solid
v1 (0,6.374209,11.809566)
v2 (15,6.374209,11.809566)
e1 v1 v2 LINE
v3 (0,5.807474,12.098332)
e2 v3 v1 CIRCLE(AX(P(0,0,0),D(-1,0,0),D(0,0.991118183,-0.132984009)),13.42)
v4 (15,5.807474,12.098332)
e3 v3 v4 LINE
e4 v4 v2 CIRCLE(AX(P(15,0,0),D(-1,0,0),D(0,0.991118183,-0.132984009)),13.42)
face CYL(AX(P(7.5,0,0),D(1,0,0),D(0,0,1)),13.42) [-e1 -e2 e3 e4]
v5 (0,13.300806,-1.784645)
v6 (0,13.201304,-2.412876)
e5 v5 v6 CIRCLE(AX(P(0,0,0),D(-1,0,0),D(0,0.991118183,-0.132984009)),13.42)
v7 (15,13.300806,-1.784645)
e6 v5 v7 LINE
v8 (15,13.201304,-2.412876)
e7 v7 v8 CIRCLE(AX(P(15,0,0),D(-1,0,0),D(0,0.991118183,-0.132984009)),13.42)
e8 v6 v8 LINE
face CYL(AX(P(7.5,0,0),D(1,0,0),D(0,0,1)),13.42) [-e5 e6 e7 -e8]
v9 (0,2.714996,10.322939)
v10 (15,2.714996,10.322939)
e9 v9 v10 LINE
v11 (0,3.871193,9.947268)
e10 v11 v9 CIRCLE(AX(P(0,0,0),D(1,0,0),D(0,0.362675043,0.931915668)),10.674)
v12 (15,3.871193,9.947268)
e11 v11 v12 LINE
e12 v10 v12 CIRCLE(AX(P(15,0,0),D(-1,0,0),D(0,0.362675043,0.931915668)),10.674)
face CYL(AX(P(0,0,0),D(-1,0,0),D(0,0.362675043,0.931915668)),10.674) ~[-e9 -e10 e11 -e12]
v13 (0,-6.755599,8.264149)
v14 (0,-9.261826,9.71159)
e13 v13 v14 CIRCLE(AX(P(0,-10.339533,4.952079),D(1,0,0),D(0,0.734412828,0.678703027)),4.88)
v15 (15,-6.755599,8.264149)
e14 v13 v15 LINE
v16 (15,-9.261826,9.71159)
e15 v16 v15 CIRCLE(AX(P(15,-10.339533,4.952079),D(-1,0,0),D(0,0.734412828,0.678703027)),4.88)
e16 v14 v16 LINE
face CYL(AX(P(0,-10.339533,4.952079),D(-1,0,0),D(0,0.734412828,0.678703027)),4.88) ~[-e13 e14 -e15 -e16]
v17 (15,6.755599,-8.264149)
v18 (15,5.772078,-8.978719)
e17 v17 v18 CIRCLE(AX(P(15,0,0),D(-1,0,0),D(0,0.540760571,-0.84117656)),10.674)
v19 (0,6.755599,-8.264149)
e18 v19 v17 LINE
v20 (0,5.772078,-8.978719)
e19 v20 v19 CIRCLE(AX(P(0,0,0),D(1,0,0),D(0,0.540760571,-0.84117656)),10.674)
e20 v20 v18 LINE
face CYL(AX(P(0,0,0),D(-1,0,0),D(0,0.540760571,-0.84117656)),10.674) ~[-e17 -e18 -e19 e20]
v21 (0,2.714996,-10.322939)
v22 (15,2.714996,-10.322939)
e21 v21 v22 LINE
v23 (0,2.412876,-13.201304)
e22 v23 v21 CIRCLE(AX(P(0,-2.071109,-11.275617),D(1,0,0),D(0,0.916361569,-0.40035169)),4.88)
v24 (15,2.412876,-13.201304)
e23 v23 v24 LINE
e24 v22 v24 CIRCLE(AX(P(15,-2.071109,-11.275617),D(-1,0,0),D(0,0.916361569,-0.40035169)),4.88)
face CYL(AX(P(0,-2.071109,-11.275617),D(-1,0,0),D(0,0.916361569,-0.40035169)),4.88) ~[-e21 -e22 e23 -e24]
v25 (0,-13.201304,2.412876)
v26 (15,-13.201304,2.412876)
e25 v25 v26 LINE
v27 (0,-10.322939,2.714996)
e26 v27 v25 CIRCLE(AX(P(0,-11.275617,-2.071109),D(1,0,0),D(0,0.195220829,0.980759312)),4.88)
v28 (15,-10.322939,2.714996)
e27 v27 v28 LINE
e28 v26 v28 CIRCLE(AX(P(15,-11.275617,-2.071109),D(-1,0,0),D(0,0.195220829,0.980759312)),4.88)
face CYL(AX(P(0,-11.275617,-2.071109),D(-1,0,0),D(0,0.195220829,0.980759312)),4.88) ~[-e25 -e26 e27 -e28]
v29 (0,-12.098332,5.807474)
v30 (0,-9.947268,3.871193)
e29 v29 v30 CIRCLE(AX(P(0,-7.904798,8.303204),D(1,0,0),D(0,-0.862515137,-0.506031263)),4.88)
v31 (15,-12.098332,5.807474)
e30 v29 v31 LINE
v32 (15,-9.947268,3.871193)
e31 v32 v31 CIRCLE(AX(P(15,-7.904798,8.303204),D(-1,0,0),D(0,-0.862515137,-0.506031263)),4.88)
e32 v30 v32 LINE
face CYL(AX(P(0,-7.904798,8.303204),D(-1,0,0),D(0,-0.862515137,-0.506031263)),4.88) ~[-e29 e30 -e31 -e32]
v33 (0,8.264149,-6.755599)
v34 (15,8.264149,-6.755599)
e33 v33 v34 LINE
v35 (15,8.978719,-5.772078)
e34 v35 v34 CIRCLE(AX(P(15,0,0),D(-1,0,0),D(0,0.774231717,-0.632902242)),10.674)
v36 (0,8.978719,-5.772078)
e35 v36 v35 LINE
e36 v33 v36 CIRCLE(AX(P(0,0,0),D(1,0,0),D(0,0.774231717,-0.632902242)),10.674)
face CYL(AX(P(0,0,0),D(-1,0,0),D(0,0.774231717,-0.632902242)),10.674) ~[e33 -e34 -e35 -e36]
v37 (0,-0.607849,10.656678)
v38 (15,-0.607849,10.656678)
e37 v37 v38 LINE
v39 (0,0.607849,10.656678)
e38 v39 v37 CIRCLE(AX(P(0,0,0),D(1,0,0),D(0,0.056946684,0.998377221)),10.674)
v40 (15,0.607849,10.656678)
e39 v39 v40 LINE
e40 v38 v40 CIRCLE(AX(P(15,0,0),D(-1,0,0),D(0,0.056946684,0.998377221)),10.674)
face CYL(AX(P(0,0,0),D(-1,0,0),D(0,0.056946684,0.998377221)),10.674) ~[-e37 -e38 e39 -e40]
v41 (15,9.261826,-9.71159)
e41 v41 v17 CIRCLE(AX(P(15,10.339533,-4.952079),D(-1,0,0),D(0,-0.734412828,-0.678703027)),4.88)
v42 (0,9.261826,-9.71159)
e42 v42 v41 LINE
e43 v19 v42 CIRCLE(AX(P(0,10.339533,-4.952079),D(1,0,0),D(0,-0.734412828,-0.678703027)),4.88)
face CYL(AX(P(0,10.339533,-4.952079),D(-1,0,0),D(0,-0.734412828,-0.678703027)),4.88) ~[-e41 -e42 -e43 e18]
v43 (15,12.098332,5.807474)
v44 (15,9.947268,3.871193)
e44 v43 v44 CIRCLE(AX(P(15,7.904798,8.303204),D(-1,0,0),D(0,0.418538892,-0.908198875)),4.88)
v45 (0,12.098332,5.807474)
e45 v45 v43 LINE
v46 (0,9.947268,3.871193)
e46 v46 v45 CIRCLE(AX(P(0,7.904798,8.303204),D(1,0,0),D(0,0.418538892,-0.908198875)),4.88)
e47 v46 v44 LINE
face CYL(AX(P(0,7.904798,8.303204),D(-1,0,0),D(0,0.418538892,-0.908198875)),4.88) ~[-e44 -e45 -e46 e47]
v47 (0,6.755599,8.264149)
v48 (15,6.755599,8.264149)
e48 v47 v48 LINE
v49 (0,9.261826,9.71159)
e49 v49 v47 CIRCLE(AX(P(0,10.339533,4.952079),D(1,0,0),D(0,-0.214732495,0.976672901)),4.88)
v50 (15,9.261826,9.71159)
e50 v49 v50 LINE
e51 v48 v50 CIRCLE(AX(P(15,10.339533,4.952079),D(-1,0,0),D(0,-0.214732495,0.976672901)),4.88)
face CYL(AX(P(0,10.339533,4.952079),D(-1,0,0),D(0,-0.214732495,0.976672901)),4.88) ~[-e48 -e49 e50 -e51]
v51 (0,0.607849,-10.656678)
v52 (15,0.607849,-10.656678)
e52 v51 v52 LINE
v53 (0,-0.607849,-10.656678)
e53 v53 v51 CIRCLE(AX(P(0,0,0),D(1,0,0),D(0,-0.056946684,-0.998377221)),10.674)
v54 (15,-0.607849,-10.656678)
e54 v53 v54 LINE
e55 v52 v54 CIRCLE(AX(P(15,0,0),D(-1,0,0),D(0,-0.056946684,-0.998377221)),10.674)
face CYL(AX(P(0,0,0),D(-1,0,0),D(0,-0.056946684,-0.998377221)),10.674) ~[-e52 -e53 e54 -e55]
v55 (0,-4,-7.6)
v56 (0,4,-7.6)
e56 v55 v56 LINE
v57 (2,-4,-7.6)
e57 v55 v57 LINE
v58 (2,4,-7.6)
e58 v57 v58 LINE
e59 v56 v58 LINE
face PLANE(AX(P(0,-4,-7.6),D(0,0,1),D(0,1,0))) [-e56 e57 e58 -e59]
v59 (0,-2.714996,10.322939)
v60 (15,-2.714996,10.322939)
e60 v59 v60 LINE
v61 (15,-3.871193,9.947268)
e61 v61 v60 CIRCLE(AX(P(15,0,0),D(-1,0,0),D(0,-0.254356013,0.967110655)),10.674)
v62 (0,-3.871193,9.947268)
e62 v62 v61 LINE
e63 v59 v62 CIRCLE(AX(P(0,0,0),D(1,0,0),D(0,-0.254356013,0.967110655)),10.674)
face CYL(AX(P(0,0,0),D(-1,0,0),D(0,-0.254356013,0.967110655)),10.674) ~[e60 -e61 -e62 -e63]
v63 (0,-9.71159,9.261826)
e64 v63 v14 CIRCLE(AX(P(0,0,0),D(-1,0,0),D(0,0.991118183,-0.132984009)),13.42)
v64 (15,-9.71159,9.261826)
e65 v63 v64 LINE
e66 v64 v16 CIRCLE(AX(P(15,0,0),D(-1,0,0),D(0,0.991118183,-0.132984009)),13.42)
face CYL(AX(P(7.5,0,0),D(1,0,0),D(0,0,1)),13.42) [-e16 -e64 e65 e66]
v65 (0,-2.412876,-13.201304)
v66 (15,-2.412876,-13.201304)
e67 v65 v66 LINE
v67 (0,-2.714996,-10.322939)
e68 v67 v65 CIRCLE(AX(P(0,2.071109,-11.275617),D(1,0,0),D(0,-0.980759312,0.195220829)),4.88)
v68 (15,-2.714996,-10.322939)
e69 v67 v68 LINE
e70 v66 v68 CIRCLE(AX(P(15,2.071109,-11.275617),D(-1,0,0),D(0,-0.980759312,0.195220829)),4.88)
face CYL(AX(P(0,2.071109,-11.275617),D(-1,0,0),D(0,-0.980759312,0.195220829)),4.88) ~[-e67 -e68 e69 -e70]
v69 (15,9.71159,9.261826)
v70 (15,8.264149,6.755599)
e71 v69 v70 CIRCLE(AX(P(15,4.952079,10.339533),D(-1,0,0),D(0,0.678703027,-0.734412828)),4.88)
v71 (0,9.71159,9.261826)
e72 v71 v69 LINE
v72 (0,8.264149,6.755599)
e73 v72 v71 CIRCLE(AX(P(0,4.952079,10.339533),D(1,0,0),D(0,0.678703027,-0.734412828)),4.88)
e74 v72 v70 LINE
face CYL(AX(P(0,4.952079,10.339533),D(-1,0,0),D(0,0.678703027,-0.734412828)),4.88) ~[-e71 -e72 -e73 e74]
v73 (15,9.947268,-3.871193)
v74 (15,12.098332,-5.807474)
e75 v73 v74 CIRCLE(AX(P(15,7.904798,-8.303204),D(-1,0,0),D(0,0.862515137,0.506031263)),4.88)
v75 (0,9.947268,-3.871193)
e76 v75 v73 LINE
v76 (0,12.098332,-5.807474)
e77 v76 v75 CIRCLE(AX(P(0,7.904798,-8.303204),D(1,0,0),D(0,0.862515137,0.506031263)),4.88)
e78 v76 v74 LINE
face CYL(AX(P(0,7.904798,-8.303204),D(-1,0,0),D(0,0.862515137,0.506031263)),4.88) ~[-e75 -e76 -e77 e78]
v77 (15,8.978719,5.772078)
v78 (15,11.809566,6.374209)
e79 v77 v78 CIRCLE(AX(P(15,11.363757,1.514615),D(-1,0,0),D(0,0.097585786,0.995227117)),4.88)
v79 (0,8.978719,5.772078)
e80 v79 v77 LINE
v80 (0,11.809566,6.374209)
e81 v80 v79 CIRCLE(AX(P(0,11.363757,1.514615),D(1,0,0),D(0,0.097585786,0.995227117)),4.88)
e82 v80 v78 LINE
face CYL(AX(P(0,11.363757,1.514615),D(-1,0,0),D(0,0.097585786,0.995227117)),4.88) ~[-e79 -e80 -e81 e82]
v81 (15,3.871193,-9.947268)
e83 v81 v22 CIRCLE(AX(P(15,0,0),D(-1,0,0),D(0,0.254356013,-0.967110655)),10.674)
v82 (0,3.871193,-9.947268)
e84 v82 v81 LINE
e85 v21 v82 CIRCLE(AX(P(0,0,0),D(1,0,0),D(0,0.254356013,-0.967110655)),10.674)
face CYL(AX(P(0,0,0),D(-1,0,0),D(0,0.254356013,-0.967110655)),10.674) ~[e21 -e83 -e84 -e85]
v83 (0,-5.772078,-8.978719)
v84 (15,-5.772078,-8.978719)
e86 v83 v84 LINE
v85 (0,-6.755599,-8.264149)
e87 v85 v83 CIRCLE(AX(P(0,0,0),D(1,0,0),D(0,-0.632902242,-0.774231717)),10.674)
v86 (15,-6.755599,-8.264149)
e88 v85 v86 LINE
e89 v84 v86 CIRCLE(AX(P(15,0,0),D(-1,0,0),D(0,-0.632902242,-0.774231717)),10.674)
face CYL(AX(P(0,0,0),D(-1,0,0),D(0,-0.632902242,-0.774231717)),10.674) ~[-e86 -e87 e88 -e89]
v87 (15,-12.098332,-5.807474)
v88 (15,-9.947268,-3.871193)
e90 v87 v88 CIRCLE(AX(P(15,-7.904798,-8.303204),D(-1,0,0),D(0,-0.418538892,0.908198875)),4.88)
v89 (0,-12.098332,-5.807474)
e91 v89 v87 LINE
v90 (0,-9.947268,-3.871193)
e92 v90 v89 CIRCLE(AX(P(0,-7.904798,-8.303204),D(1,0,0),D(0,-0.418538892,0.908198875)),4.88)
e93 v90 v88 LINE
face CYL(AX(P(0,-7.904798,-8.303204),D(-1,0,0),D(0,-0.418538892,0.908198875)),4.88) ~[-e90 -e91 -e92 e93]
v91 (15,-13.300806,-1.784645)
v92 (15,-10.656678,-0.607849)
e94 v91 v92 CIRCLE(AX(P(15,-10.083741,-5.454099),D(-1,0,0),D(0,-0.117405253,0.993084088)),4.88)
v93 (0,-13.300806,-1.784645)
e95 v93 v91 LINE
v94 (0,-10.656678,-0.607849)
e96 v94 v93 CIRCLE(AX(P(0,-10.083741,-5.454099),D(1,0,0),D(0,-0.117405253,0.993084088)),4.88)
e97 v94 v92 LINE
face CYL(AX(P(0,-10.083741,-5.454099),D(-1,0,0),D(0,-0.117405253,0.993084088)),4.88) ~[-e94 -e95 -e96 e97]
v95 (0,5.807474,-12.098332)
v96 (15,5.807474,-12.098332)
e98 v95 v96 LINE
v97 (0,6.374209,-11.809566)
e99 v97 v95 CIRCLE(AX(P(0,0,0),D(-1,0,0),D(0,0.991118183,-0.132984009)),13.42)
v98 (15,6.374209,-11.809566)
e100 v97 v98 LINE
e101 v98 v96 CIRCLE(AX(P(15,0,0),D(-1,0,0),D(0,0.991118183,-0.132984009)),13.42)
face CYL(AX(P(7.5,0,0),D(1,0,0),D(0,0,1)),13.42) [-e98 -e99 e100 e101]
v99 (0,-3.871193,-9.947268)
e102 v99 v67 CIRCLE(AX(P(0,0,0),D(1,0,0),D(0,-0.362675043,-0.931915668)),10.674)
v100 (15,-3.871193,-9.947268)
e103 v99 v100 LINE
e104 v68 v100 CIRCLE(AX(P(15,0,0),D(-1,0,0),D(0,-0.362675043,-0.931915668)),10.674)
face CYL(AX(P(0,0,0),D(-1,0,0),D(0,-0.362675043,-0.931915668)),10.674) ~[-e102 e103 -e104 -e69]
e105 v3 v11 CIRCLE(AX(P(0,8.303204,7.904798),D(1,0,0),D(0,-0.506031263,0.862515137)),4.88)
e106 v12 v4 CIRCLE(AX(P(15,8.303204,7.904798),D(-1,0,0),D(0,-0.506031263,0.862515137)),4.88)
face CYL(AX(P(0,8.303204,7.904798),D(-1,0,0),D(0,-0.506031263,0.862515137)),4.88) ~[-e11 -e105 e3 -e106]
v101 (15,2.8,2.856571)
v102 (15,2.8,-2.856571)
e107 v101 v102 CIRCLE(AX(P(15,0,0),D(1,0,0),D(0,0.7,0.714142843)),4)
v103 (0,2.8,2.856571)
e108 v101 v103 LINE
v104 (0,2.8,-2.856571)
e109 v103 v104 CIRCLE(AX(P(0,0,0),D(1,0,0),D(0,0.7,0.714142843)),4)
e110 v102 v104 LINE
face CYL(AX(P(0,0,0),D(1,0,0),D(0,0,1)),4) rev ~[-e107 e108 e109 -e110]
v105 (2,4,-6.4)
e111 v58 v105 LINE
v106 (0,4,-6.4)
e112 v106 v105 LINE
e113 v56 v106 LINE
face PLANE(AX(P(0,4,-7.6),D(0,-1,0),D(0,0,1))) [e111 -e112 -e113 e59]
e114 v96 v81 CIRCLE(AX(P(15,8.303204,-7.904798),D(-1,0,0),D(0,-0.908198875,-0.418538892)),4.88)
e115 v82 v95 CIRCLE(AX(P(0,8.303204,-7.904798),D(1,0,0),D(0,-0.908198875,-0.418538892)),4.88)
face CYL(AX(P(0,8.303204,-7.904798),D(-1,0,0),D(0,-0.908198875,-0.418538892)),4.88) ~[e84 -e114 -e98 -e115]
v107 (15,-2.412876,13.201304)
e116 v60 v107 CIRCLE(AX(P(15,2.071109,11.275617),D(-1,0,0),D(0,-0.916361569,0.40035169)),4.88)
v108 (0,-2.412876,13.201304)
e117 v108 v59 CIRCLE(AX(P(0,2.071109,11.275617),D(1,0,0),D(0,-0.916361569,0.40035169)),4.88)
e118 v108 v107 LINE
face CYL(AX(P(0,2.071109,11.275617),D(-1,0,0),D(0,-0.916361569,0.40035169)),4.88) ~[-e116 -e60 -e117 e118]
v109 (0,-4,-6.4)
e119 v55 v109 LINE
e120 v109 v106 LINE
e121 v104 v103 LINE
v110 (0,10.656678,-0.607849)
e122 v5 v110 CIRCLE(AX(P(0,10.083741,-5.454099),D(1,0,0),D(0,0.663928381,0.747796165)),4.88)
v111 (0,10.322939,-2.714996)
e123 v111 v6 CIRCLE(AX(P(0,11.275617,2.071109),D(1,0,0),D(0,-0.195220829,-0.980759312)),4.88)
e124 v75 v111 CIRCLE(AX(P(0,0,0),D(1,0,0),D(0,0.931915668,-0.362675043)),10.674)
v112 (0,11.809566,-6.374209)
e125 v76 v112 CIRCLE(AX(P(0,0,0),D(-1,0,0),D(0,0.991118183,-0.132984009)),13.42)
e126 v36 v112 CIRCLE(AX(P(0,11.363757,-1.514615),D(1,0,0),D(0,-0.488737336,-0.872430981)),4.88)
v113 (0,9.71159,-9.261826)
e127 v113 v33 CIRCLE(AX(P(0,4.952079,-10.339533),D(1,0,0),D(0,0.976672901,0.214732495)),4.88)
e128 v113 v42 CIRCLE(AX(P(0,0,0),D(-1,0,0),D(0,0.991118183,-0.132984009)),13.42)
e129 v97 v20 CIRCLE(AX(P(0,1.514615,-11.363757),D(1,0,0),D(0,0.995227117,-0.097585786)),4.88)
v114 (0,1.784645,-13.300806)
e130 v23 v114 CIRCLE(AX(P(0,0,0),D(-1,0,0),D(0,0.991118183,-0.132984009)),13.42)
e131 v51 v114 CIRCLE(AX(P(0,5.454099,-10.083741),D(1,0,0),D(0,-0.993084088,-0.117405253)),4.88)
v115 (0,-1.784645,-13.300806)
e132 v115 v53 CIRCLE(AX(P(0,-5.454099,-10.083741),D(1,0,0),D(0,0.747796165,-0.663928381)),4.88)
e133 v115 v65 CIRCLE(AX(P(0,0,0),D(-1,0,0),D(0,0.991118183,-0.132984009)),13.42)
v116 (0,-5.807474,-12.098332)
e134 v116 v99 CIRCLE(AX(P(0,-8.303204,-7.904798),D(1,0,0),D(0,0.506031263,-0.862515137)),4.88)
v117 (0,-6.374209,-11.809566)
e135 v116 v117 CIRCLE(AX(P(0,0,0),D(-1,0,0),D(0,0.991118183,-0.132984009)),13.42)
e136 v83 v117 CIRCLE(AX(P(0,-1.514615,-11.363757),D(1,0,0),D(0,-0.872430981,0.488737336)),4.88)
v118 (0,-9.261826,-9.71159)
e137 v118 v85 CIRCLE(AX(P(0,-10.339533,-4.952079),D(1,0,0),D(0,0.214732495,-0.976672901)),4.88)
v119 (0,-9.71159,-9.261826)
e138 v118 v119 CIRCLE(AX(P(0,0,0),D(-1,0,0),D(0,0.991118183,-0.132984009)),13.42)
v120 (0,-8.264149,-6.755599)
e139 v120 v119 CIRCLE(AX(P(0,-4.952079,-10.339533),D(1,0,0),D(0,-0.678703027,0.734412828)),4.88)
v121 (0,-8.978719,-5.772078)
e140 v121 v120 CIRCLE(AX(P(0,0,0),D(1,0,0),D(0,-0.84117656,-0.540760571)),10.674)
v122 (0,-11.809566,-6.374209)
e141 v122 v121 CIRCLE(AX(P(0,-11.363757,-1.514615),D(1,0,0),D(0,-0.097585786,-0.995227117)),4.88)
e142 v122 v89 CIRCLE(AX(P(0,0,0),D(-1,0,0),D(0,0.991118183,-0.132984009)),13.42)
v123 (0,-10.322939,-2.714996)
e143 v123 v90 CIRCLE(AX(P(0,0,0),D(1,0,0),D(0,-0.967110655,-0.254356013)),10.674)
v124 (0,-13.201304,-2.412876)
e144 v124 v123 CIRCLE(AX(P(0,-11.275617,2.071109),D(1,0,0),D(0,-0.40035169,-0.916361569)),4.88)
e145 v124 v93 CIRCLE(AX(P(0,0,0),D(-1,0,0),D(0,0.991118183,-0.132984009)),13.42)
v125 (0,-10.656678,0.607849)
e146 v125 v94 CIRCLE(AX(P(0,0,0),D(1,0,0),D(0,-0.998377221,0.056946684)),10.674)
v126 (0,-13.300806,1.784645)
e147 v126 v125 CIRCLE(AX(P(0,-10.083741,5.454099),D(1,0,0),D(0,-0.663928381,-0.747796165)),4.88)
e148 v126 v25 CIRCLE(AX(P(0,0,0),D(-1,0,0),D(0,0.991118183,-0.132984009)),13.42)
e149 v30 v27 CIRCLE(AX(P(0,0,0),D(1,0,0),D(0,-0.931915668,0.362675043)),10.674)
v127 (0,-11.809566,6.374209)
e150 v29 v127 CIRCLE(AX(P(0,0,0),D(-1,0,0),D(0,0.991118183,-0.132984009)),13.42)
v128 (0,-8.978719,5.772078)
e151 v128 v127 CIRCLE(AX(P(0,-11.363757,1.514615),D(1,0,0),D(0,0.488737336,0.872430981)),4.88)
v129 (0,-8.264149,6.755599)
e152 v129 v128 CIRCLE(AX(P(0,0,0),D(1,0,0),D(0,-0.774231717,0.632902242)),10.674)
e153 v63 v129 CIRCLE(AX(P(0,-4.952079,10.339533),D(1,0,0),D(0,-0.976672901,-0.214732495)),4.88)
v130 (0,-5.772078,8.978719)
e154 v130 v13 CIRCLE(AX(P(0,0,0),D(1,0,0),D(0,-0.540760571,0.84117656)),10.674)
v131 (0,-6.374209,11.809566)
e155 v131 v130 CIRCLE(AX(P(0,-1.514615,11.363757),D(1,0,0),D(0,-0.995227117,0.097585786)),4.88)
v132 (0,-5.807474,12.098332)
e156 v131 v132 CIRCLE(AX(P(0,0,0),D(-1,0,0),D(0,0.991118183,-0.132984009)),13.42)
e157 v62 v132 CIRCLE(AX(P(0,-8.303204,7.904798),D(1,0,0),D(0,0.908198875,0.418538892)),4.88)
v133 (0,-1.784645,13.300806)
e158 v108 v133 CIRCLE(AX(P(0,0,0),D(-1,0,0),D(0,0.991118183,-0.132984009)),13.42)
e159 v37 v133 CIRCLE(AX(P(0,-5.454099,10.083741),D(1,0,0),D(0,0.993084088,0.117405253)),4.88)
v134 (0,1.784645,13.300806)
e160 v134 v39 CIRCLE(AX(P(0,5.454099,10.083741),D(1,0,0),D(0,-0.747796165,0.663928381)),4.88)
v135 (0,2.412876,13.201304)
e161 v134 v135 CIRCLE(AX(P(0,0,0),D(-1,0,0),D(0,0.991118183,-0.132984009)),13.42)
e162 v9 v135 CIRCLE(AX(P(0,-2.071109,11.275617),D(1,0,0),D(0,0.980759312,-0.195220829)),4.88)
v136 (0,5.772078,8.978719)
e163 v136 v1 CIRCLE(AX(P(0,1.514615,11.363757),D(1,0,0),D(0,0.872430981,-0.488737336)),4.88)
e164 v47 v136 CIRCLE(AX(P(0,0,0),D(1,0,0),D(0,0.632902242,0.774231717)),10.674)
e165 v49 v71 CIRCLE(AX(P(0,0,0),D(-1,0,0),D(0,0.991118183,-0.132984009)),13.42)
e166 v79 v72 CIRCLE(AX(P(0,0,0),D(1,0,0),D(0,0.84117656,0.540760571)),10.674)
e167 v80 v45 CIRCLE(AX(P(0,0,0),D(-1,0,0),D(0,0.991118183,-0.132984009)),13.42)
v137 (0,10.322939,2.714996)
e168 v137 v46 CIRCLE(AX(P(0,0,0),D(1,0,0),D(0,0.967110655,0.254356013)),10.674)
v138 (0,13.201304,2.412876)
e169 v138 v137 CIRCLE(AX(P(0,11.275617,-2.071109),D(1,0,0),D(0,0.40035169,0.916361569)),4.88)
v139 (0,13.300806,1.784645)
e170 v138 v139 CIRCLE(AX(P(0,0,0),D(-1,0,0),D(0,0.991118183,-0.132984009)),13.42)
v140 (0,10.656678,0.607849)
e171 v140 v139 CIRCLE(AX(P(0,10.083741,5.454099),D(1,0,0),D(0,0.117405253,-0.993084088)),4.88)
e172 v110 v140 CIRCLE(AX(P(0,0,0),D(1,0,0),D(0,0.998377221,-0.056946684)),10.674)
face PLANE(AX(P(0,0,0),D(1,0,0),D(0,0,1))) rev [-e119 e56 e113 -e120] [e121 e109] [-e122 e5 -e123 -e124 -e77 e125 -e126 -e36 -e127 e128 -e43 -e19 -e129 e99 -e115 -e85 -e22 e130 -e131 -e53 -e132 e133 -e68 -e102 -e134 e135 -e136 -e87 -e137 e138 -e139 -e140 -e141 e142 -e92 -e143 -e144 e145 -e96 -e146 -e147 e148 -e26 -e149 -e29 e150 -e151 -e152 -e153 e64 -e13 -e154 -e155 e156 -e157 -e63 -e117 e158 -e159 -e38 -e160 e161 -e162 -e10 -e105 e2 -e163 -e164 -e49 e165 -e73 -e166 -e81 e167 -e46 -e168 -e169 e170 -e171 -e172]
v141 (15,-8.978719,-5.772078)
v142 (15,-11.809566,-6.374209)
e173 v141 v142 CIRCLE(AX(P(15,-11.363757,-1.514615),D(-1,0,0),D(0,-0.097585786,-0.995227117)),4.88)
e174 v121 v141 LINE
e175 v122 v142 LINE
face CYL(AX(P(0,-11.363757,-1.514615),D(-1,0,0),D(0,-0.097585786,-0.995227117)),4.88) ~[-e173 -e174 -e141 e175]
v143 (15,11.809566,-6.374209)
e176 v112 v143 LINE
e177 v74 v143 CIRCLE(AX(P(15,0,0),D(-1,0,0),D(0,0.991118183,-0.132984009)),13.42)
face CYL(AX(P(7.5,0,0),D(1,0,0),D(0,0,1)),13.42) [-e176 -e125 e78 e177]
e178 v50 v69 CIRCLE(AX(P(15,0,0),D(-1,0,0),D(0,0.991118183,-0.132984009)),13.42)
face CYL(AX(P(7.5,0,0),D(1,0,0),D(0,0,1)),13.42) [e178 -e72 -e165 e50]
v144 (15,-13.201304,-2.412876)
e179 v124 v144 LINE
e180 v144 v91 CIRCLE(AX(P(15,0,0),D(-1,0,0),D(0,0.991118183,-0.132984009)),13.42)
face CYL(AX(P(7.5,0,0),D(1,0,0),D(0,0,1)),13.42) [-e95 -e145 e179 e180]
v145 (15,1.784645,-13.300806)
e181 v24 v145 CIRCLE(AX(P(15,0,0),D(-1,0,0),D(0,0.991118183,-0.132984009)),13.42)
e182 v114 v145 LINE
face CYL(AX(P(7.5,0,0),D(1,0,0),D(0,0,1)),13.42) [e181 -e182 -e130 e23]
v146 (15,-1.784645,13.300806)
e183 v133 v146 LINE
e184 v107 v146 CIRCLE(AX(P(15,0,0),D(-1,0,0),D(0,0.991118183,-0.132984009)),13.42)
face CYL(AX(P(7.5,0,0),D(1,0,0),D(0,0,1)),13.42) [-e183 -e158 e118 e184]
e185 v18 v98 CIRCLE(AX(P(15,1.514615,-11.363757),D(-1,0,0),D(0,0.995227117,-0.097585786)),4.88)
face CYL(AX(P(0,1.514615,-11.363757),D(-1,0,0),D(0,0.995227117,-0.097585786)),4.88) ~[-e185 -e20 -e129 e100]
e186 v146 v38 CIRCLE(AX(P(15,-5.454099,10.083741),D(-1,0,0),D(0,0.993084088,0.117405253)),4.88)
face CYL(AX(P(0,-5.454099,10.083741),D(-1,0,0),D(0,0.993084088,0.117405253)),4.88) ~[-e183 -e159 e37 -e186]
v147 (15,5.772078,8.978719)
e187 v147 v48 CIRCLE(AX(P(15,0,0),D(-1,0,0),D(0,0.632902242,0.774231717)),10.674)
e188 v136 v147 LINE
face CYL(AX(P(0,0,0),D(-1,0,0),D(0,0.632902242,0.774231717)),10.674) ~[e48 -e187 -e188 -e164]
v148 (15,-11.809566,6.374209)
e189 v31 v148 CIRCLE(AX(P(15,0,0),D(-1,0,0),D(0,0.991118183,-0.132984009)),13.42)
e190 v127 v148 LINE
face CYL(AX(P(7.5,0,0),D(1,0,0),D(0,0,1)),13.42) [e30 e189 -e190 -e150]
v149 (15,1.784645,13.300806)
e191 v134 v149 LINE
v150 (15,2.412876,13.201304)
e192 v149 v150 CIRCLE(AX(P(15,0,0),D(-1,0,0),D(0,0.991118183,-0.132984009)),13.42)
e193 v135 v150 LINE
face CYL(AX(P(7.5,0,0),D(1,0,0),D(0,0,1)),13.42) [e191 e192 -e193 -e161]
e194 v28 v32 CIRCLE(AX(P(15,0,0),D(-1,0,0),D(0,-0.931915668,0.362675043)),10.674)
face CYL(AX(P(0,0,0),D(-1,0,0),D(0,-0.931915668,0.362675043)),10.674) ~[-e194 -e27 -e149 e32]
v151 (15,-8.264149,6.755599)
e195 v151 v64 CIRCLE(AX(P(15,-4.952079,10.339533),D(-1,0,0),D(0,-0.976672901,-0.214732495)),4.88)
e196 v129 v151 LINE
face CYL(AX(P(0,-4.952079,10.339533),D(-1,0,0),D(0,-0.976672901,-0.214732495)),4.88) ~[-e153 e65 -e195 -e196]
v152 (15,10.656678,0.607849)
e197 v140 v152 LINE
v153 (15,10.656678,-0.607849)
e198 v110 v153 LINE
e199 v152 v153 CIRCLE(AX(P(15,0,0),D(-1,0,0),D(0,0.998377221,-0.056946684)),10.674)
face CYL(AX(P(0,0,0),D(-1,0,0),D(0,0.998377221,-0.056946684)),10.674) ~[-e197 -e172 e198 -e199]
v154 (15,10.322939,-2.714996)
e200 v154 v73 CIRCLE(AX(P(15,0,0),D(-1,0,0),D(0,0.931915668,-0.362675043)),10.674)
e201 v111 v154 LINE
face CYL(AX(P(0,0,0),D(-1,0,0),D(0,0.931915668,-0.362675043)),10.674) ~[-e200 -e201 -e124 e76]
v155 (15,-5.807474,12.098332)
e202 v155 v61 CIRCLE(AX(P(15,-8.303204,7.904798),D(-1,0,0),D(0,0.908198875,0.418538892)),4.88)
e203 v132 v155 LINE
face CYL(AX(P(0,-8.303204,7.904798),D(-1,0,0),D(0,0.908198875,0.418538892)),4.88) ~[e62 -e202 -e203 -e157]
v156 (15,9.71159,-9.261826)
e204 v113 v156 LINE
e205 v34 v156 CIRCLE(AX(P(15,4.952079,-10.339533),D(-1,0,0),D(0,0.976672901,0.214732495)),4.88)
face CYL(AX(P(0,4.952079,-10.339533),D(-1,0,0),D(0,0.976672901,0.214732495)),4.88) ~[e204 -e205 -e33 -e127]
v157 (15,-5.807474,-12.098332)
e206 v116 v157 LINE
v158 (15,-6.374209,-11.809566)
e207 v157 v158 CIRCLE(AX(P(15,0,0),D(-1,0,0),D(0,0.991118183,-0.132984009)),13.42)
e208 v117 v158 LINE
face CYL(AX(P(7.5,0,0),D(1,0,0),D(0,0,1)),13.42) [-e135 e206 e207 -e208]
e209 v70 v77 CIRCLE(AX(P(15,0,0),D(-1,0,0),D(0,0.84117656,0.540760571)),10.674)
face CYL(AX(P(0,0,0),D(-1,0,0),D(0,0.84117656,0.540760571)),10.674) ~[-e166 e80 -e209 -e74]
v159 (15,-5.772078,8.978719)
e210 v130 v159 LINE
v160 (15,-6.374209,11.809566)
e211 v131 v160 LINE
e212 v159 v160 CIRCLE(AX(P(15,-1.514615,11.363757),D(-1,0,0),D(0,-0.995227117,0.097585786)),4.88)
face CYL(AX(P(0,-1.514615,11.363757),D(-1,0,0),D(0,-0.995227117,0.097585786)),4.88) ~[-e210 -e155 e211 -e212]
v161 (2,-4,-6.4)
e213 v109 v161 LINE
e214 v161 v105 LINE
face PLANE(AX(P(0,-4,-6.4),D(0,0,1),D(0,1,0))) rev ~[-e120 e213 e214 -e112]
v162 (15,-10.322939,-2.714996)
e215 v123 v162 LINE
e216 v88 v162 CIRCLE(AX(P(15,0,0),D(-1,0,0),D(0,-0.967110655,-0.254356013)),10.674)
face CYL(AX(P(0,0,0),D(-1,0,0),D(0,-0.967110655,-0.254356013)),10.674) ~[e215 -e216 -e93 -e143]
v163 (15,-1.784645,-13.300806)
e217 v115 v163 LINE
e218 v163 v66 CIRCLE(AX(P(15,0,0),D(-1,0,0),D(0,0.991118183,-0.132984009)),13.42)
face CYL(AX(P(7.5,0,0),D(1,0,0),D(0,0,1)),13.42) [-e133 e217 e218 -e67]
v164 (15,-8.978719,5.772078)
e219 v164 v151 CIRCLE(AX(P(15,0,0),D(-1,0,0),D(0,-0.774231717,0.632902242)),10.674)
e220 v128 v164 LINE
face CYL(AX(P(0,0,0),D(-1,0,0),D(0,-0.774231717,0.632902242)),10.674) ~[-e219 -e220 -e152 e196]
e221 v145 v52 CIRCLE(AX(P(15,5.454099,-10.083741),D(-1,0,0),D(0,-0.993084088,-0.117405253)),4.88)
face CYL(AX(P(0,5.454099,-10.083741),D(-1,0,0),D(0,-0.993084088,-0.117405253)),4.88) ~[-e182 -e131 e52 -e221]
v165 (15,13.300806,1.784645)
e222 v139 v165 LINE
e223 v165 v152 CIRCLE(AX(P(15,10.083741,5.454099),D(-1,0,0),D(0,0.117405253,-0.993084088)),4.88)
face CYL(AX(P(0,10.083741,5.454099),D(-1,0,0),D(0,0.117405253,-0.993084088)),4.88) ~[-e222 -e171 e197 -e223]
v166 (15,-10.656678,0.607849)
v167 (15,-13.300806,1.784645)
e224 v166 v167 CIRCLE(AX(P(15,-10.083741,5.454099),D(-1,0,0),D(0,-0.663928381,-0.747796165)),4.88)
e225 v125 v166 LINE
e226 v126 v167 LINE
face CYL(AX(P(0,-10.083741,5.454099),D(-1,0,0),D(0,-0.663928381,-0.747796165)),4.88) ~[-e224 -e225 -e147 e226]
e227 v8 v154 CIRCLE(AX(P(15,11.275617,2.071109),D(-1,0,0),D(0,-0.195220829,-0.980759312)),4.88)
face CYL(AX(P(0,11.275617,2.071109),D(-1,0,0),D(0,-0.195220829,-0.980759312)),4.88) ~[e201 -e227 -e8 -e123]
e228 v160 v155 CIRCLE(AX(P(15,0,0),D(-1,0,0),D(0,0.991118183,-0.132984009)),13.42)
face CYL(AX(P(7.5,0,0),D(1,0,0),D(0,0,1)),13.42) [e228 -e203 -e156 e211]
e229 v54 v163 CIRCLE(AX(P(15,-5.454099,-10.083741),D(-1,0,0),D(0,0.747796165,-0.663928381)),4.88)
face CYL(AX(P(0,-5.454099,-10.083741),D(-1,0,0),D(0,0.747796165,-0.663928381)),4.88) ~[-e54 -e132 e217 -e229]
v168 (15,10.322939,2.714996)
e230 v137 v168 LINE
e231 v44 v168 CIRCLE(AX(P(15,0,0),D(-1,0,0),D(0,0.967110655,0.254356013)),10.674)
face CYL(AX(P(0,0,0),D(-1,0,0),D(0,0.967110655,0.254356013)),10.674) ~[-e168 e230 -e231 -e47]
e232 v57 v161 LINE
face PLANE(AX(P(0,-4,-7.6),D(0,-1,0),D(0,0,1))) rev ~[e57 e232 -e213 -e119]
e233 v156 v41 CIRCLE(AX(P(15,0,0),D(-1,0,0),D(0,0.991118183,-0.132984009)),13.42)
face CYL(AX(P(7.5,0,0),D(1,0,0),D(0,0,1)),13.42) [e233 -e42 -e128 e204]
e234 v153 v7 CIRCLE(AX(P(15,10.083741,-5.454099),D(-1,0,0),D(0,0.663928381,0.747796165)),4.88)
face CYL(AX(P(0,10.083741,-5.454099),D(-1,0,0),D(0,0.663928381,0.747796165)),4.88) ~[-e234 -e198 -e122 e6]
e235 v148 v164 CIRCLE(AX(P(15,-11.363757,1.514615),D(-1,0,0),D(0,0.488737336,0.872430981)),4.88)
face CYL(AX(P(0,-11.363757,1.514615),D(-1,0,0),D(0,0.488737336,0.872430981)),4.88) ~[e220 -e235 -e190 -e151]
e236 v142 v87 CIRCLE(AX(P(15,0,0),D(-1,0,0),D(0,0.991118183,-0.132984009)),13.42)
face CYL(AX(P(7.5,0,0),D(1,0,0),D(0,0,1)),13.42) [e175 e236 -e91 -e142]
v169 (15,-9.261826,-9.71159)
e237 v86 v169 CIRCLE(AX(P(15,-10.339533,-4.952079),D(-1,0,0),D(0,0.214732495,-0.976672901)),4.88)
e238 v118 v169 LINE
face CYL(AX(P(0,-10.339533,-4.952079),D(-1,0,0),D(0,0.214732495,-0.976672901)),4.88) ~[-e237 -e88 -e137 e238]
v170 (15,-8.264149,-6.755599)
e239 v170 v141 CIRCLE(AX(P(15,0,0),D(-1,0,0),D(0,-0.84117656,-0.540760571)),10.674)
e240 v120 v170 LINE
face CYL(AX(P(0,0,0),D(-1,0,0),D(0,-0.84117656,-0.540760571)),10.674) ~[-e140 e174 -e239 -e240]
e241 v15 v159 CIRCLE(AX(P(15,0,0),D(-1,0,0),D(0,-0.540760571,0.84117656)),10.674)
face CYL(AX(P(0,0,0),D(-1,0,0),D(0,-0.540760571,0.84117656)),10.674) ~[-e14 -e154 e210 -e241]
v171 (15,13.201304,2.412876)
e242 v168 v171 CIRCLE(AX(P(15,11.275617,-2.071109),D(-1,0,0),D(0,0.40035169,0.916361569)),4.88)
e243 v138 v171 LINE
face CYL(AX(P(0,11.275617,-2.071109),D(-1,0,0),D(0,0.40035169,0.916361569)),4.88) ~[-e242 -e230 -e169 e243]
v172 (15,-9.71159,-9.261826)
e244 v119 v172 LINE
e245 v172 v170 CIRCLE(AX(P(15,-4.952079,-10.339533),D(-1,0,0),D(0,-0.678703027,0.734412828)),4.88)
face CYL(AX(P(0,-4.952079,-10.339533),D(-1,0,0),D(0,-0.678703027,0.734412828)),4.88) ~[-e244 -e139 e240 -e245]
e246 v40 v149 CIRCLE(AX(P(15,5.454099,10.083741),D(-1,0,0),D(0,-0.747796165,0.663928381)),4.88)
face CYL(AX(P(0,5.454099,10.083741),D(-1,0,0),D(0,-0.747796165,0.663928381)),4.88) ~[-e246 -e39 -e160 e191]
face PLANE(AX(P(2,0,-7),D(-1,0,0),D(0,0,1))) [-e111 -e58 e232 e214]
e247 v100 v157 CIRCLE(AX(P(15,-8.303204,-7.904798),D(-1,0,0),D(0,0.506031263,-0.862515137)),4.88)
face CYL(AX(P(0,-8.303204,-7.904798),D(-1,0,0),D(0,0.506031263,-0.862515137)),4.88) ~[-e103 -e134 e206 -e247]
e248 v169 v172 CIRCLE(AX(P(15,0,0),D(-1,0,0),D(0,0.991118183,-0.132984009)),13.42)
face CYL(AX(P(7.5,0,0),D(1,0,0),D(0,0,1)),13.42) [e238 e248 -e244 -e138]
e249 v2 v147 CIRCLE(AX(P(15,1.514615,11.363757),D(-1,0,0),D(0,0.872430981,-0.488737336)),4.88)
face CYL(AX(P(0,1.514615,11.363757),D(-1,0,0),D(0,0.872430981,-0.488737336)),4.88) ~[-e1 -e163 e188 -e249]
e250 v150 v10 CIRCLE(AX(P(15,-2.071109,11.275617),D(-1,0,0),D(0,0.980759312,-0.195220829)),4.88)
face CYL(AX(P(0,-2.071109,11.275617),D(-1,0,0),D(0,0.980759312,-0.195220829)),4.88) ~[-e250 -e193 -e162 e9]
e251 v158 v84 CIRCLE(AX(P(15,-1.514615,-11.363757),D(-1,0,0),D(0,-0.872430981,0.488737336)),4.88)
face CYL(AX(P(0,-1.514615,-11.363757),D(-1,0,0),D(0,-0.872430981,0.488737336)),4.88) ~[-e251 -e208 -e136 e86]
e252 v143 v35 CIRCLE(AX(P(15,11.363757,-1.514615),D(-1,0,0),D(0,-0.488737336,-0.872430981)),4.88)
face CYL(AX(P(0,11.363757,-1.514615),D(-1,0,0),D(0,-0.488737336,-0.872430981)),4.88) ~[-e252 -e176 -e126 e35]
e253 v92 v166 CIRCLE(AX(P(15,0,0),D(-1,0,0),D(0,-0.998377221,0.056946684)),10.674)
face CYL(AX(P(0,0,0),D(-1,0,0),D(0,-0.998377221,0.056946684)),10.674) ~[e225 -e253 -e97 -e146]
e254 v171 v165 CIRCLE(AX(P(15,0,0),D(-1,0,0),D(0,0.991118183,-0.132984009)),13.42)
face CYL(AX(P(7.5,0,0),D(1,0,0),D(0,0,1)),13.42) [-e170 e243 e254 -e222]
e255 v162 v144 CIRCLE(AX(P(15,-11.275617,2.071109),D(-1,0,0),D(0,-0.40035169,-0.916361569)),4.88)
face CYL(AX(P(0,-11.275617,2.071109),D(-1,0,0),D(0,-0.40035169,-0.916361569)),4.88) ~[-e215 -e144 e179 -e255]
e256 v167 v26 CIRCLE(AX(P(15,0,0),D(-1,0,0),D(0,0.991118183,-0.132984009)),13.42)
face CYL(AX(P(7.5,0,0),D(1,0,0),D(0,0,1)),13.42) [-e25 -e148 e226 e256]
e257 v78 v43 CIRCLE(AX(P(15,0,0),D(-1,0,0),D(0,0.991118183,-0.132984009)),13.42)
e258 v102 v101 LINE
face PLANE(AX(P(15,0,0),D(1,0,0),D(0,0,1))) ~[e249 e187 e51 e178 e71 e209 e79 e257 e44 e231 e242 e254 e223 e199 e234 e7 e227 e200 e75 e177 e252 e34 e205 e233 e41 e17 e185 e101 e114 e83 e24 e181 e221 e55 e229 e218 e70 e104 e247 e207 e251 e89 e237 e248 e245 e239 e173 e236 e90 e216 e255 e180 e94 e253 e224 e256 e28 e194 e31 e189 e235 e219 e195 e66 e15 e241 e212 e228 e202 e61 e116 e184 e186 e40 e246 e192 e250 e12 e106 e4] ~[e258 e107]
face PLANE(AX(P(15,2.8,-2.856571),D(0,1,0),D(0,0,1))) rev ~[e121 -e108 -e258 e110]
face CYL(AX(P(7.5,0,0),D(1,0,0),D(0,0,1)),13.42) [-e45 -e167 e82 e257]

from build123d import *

# Parameters (mm, degrees)
BASPROSKE_W         = 15
BASPROSKE_H         = 13.42
TOOTHCUT_DEPTH      = 25.190758566
TEETHCUTS_COUNT     = 20
TEETHCUTS_ANGLE     = 342
BORSKE_R            = 4
BORE_DEPTH          = 50.0000508
BOSS_EXTRUDE1_START = -15
BOSS_EXTRUDE1_DEPTH = 15
SKETCH2_W           = 1.2
SKETCH2_H           = 8
CUT_EXTRUDE1_DEPTH  = 2


with BuildPart() as part:
    # BasProSke → Base-Revolve (revolve)
    with BuildSketch(Plane(origin=(0, 0, 0), x_dir=(1, 0, 0), z_dir=(0, 1, 0)), mode=Mode.PRIVATE) as base_revolve_sk:
        with Locations((7.5, 6.71)):
            Rectangle(BASPROSKE_W, BASPROSKE_H)
    revolve(base_revolve_sk.sketch.rotate(Axis((-10, 0, 0), (1, 0, 0)), 180), axis=Axis((-10, 0, 0), (1, 0, 0)))

    # TooCutSke → ToothCut (cut, through all)
    with BuildSketch(Plane(origin=(0, 0, 0), x_dir=(0, 0, -1), z_dir=(1, 0, 0))):
        with BuildLine():
            ThreePointArc((0.607848894, 10.656678456), (0, 10.674), (-0.607848894, 10.656678456))
            ThreePointArc((-0.607848894, 10.656678456), (-1.001950595, 12.081933102), (-1.804853959, 13.32371132))
            ThreePointArc((-1.804853959, 13.32371132), (0, 13.4454), (1.804853959, 13.32371132))
            ThreePointArc((1.804853959, 13.32371132), (1.001950595, 12.081933102), (0.607848894, 10.656678456))
        make_face()
    toothcut = extrude(amount=TOOTHCUT_DEPTH, mode=Mode.SUBTRACT)

    # TeethCuts: ToothCut ×20 about axis
    teethcuts_axis = Axis((-10, 0, 0), (1, 0, 0))
    for i in range(1, TEETHCUTS_COUNT):
        add(toothcut.rotate(teethcuts_axis, i * TEETHCUTS_ANGLE / (TEETHCUTS_COUNT - 1)), mode=Mode.SUBTRACT)

    # BorSke → Bore (cut, symmetric)
    with BuildSketch(Plane(origin=(0, 0, 0), x_dir=(0, 0, -1), z_dir=(1, 0, 0))):
        with Locations(Location((0, 0, 0), (0, 0, 180))):
            Circle(BORSKE_R)
    extrude(amount=BORE_DEPTH, both=True, mode=Mode.SUBTRACT)

    # Sketch1 → Boss-Extrude1 (add)
    with BuildSketch(Plane.ZY.offset(BOSS_EXTRUDE1_START)):
        with BuildLine():
            Line((-2.856571371, 2.8), (2.856571371, 2.8))
            ThreePointArc((2.856571371, 2.8), (0, 4), (-2.856571371, 2.8))
        make_face()
    extrude(amount=BOSS_EXTRUDE1_DEPTH)

    # Sketch2 → Cut-Extrude1 (cut)
    with BuildSketch(Plane.ZY):
        with Locations((-7, 0)):
            Rectangle(SKETCH2_W, SKETCH2_H)
    extrude(amount=-CUT_EXTRUDE1_DEPTH, mode=Mode.SUBTRACT)


solid = part.part
